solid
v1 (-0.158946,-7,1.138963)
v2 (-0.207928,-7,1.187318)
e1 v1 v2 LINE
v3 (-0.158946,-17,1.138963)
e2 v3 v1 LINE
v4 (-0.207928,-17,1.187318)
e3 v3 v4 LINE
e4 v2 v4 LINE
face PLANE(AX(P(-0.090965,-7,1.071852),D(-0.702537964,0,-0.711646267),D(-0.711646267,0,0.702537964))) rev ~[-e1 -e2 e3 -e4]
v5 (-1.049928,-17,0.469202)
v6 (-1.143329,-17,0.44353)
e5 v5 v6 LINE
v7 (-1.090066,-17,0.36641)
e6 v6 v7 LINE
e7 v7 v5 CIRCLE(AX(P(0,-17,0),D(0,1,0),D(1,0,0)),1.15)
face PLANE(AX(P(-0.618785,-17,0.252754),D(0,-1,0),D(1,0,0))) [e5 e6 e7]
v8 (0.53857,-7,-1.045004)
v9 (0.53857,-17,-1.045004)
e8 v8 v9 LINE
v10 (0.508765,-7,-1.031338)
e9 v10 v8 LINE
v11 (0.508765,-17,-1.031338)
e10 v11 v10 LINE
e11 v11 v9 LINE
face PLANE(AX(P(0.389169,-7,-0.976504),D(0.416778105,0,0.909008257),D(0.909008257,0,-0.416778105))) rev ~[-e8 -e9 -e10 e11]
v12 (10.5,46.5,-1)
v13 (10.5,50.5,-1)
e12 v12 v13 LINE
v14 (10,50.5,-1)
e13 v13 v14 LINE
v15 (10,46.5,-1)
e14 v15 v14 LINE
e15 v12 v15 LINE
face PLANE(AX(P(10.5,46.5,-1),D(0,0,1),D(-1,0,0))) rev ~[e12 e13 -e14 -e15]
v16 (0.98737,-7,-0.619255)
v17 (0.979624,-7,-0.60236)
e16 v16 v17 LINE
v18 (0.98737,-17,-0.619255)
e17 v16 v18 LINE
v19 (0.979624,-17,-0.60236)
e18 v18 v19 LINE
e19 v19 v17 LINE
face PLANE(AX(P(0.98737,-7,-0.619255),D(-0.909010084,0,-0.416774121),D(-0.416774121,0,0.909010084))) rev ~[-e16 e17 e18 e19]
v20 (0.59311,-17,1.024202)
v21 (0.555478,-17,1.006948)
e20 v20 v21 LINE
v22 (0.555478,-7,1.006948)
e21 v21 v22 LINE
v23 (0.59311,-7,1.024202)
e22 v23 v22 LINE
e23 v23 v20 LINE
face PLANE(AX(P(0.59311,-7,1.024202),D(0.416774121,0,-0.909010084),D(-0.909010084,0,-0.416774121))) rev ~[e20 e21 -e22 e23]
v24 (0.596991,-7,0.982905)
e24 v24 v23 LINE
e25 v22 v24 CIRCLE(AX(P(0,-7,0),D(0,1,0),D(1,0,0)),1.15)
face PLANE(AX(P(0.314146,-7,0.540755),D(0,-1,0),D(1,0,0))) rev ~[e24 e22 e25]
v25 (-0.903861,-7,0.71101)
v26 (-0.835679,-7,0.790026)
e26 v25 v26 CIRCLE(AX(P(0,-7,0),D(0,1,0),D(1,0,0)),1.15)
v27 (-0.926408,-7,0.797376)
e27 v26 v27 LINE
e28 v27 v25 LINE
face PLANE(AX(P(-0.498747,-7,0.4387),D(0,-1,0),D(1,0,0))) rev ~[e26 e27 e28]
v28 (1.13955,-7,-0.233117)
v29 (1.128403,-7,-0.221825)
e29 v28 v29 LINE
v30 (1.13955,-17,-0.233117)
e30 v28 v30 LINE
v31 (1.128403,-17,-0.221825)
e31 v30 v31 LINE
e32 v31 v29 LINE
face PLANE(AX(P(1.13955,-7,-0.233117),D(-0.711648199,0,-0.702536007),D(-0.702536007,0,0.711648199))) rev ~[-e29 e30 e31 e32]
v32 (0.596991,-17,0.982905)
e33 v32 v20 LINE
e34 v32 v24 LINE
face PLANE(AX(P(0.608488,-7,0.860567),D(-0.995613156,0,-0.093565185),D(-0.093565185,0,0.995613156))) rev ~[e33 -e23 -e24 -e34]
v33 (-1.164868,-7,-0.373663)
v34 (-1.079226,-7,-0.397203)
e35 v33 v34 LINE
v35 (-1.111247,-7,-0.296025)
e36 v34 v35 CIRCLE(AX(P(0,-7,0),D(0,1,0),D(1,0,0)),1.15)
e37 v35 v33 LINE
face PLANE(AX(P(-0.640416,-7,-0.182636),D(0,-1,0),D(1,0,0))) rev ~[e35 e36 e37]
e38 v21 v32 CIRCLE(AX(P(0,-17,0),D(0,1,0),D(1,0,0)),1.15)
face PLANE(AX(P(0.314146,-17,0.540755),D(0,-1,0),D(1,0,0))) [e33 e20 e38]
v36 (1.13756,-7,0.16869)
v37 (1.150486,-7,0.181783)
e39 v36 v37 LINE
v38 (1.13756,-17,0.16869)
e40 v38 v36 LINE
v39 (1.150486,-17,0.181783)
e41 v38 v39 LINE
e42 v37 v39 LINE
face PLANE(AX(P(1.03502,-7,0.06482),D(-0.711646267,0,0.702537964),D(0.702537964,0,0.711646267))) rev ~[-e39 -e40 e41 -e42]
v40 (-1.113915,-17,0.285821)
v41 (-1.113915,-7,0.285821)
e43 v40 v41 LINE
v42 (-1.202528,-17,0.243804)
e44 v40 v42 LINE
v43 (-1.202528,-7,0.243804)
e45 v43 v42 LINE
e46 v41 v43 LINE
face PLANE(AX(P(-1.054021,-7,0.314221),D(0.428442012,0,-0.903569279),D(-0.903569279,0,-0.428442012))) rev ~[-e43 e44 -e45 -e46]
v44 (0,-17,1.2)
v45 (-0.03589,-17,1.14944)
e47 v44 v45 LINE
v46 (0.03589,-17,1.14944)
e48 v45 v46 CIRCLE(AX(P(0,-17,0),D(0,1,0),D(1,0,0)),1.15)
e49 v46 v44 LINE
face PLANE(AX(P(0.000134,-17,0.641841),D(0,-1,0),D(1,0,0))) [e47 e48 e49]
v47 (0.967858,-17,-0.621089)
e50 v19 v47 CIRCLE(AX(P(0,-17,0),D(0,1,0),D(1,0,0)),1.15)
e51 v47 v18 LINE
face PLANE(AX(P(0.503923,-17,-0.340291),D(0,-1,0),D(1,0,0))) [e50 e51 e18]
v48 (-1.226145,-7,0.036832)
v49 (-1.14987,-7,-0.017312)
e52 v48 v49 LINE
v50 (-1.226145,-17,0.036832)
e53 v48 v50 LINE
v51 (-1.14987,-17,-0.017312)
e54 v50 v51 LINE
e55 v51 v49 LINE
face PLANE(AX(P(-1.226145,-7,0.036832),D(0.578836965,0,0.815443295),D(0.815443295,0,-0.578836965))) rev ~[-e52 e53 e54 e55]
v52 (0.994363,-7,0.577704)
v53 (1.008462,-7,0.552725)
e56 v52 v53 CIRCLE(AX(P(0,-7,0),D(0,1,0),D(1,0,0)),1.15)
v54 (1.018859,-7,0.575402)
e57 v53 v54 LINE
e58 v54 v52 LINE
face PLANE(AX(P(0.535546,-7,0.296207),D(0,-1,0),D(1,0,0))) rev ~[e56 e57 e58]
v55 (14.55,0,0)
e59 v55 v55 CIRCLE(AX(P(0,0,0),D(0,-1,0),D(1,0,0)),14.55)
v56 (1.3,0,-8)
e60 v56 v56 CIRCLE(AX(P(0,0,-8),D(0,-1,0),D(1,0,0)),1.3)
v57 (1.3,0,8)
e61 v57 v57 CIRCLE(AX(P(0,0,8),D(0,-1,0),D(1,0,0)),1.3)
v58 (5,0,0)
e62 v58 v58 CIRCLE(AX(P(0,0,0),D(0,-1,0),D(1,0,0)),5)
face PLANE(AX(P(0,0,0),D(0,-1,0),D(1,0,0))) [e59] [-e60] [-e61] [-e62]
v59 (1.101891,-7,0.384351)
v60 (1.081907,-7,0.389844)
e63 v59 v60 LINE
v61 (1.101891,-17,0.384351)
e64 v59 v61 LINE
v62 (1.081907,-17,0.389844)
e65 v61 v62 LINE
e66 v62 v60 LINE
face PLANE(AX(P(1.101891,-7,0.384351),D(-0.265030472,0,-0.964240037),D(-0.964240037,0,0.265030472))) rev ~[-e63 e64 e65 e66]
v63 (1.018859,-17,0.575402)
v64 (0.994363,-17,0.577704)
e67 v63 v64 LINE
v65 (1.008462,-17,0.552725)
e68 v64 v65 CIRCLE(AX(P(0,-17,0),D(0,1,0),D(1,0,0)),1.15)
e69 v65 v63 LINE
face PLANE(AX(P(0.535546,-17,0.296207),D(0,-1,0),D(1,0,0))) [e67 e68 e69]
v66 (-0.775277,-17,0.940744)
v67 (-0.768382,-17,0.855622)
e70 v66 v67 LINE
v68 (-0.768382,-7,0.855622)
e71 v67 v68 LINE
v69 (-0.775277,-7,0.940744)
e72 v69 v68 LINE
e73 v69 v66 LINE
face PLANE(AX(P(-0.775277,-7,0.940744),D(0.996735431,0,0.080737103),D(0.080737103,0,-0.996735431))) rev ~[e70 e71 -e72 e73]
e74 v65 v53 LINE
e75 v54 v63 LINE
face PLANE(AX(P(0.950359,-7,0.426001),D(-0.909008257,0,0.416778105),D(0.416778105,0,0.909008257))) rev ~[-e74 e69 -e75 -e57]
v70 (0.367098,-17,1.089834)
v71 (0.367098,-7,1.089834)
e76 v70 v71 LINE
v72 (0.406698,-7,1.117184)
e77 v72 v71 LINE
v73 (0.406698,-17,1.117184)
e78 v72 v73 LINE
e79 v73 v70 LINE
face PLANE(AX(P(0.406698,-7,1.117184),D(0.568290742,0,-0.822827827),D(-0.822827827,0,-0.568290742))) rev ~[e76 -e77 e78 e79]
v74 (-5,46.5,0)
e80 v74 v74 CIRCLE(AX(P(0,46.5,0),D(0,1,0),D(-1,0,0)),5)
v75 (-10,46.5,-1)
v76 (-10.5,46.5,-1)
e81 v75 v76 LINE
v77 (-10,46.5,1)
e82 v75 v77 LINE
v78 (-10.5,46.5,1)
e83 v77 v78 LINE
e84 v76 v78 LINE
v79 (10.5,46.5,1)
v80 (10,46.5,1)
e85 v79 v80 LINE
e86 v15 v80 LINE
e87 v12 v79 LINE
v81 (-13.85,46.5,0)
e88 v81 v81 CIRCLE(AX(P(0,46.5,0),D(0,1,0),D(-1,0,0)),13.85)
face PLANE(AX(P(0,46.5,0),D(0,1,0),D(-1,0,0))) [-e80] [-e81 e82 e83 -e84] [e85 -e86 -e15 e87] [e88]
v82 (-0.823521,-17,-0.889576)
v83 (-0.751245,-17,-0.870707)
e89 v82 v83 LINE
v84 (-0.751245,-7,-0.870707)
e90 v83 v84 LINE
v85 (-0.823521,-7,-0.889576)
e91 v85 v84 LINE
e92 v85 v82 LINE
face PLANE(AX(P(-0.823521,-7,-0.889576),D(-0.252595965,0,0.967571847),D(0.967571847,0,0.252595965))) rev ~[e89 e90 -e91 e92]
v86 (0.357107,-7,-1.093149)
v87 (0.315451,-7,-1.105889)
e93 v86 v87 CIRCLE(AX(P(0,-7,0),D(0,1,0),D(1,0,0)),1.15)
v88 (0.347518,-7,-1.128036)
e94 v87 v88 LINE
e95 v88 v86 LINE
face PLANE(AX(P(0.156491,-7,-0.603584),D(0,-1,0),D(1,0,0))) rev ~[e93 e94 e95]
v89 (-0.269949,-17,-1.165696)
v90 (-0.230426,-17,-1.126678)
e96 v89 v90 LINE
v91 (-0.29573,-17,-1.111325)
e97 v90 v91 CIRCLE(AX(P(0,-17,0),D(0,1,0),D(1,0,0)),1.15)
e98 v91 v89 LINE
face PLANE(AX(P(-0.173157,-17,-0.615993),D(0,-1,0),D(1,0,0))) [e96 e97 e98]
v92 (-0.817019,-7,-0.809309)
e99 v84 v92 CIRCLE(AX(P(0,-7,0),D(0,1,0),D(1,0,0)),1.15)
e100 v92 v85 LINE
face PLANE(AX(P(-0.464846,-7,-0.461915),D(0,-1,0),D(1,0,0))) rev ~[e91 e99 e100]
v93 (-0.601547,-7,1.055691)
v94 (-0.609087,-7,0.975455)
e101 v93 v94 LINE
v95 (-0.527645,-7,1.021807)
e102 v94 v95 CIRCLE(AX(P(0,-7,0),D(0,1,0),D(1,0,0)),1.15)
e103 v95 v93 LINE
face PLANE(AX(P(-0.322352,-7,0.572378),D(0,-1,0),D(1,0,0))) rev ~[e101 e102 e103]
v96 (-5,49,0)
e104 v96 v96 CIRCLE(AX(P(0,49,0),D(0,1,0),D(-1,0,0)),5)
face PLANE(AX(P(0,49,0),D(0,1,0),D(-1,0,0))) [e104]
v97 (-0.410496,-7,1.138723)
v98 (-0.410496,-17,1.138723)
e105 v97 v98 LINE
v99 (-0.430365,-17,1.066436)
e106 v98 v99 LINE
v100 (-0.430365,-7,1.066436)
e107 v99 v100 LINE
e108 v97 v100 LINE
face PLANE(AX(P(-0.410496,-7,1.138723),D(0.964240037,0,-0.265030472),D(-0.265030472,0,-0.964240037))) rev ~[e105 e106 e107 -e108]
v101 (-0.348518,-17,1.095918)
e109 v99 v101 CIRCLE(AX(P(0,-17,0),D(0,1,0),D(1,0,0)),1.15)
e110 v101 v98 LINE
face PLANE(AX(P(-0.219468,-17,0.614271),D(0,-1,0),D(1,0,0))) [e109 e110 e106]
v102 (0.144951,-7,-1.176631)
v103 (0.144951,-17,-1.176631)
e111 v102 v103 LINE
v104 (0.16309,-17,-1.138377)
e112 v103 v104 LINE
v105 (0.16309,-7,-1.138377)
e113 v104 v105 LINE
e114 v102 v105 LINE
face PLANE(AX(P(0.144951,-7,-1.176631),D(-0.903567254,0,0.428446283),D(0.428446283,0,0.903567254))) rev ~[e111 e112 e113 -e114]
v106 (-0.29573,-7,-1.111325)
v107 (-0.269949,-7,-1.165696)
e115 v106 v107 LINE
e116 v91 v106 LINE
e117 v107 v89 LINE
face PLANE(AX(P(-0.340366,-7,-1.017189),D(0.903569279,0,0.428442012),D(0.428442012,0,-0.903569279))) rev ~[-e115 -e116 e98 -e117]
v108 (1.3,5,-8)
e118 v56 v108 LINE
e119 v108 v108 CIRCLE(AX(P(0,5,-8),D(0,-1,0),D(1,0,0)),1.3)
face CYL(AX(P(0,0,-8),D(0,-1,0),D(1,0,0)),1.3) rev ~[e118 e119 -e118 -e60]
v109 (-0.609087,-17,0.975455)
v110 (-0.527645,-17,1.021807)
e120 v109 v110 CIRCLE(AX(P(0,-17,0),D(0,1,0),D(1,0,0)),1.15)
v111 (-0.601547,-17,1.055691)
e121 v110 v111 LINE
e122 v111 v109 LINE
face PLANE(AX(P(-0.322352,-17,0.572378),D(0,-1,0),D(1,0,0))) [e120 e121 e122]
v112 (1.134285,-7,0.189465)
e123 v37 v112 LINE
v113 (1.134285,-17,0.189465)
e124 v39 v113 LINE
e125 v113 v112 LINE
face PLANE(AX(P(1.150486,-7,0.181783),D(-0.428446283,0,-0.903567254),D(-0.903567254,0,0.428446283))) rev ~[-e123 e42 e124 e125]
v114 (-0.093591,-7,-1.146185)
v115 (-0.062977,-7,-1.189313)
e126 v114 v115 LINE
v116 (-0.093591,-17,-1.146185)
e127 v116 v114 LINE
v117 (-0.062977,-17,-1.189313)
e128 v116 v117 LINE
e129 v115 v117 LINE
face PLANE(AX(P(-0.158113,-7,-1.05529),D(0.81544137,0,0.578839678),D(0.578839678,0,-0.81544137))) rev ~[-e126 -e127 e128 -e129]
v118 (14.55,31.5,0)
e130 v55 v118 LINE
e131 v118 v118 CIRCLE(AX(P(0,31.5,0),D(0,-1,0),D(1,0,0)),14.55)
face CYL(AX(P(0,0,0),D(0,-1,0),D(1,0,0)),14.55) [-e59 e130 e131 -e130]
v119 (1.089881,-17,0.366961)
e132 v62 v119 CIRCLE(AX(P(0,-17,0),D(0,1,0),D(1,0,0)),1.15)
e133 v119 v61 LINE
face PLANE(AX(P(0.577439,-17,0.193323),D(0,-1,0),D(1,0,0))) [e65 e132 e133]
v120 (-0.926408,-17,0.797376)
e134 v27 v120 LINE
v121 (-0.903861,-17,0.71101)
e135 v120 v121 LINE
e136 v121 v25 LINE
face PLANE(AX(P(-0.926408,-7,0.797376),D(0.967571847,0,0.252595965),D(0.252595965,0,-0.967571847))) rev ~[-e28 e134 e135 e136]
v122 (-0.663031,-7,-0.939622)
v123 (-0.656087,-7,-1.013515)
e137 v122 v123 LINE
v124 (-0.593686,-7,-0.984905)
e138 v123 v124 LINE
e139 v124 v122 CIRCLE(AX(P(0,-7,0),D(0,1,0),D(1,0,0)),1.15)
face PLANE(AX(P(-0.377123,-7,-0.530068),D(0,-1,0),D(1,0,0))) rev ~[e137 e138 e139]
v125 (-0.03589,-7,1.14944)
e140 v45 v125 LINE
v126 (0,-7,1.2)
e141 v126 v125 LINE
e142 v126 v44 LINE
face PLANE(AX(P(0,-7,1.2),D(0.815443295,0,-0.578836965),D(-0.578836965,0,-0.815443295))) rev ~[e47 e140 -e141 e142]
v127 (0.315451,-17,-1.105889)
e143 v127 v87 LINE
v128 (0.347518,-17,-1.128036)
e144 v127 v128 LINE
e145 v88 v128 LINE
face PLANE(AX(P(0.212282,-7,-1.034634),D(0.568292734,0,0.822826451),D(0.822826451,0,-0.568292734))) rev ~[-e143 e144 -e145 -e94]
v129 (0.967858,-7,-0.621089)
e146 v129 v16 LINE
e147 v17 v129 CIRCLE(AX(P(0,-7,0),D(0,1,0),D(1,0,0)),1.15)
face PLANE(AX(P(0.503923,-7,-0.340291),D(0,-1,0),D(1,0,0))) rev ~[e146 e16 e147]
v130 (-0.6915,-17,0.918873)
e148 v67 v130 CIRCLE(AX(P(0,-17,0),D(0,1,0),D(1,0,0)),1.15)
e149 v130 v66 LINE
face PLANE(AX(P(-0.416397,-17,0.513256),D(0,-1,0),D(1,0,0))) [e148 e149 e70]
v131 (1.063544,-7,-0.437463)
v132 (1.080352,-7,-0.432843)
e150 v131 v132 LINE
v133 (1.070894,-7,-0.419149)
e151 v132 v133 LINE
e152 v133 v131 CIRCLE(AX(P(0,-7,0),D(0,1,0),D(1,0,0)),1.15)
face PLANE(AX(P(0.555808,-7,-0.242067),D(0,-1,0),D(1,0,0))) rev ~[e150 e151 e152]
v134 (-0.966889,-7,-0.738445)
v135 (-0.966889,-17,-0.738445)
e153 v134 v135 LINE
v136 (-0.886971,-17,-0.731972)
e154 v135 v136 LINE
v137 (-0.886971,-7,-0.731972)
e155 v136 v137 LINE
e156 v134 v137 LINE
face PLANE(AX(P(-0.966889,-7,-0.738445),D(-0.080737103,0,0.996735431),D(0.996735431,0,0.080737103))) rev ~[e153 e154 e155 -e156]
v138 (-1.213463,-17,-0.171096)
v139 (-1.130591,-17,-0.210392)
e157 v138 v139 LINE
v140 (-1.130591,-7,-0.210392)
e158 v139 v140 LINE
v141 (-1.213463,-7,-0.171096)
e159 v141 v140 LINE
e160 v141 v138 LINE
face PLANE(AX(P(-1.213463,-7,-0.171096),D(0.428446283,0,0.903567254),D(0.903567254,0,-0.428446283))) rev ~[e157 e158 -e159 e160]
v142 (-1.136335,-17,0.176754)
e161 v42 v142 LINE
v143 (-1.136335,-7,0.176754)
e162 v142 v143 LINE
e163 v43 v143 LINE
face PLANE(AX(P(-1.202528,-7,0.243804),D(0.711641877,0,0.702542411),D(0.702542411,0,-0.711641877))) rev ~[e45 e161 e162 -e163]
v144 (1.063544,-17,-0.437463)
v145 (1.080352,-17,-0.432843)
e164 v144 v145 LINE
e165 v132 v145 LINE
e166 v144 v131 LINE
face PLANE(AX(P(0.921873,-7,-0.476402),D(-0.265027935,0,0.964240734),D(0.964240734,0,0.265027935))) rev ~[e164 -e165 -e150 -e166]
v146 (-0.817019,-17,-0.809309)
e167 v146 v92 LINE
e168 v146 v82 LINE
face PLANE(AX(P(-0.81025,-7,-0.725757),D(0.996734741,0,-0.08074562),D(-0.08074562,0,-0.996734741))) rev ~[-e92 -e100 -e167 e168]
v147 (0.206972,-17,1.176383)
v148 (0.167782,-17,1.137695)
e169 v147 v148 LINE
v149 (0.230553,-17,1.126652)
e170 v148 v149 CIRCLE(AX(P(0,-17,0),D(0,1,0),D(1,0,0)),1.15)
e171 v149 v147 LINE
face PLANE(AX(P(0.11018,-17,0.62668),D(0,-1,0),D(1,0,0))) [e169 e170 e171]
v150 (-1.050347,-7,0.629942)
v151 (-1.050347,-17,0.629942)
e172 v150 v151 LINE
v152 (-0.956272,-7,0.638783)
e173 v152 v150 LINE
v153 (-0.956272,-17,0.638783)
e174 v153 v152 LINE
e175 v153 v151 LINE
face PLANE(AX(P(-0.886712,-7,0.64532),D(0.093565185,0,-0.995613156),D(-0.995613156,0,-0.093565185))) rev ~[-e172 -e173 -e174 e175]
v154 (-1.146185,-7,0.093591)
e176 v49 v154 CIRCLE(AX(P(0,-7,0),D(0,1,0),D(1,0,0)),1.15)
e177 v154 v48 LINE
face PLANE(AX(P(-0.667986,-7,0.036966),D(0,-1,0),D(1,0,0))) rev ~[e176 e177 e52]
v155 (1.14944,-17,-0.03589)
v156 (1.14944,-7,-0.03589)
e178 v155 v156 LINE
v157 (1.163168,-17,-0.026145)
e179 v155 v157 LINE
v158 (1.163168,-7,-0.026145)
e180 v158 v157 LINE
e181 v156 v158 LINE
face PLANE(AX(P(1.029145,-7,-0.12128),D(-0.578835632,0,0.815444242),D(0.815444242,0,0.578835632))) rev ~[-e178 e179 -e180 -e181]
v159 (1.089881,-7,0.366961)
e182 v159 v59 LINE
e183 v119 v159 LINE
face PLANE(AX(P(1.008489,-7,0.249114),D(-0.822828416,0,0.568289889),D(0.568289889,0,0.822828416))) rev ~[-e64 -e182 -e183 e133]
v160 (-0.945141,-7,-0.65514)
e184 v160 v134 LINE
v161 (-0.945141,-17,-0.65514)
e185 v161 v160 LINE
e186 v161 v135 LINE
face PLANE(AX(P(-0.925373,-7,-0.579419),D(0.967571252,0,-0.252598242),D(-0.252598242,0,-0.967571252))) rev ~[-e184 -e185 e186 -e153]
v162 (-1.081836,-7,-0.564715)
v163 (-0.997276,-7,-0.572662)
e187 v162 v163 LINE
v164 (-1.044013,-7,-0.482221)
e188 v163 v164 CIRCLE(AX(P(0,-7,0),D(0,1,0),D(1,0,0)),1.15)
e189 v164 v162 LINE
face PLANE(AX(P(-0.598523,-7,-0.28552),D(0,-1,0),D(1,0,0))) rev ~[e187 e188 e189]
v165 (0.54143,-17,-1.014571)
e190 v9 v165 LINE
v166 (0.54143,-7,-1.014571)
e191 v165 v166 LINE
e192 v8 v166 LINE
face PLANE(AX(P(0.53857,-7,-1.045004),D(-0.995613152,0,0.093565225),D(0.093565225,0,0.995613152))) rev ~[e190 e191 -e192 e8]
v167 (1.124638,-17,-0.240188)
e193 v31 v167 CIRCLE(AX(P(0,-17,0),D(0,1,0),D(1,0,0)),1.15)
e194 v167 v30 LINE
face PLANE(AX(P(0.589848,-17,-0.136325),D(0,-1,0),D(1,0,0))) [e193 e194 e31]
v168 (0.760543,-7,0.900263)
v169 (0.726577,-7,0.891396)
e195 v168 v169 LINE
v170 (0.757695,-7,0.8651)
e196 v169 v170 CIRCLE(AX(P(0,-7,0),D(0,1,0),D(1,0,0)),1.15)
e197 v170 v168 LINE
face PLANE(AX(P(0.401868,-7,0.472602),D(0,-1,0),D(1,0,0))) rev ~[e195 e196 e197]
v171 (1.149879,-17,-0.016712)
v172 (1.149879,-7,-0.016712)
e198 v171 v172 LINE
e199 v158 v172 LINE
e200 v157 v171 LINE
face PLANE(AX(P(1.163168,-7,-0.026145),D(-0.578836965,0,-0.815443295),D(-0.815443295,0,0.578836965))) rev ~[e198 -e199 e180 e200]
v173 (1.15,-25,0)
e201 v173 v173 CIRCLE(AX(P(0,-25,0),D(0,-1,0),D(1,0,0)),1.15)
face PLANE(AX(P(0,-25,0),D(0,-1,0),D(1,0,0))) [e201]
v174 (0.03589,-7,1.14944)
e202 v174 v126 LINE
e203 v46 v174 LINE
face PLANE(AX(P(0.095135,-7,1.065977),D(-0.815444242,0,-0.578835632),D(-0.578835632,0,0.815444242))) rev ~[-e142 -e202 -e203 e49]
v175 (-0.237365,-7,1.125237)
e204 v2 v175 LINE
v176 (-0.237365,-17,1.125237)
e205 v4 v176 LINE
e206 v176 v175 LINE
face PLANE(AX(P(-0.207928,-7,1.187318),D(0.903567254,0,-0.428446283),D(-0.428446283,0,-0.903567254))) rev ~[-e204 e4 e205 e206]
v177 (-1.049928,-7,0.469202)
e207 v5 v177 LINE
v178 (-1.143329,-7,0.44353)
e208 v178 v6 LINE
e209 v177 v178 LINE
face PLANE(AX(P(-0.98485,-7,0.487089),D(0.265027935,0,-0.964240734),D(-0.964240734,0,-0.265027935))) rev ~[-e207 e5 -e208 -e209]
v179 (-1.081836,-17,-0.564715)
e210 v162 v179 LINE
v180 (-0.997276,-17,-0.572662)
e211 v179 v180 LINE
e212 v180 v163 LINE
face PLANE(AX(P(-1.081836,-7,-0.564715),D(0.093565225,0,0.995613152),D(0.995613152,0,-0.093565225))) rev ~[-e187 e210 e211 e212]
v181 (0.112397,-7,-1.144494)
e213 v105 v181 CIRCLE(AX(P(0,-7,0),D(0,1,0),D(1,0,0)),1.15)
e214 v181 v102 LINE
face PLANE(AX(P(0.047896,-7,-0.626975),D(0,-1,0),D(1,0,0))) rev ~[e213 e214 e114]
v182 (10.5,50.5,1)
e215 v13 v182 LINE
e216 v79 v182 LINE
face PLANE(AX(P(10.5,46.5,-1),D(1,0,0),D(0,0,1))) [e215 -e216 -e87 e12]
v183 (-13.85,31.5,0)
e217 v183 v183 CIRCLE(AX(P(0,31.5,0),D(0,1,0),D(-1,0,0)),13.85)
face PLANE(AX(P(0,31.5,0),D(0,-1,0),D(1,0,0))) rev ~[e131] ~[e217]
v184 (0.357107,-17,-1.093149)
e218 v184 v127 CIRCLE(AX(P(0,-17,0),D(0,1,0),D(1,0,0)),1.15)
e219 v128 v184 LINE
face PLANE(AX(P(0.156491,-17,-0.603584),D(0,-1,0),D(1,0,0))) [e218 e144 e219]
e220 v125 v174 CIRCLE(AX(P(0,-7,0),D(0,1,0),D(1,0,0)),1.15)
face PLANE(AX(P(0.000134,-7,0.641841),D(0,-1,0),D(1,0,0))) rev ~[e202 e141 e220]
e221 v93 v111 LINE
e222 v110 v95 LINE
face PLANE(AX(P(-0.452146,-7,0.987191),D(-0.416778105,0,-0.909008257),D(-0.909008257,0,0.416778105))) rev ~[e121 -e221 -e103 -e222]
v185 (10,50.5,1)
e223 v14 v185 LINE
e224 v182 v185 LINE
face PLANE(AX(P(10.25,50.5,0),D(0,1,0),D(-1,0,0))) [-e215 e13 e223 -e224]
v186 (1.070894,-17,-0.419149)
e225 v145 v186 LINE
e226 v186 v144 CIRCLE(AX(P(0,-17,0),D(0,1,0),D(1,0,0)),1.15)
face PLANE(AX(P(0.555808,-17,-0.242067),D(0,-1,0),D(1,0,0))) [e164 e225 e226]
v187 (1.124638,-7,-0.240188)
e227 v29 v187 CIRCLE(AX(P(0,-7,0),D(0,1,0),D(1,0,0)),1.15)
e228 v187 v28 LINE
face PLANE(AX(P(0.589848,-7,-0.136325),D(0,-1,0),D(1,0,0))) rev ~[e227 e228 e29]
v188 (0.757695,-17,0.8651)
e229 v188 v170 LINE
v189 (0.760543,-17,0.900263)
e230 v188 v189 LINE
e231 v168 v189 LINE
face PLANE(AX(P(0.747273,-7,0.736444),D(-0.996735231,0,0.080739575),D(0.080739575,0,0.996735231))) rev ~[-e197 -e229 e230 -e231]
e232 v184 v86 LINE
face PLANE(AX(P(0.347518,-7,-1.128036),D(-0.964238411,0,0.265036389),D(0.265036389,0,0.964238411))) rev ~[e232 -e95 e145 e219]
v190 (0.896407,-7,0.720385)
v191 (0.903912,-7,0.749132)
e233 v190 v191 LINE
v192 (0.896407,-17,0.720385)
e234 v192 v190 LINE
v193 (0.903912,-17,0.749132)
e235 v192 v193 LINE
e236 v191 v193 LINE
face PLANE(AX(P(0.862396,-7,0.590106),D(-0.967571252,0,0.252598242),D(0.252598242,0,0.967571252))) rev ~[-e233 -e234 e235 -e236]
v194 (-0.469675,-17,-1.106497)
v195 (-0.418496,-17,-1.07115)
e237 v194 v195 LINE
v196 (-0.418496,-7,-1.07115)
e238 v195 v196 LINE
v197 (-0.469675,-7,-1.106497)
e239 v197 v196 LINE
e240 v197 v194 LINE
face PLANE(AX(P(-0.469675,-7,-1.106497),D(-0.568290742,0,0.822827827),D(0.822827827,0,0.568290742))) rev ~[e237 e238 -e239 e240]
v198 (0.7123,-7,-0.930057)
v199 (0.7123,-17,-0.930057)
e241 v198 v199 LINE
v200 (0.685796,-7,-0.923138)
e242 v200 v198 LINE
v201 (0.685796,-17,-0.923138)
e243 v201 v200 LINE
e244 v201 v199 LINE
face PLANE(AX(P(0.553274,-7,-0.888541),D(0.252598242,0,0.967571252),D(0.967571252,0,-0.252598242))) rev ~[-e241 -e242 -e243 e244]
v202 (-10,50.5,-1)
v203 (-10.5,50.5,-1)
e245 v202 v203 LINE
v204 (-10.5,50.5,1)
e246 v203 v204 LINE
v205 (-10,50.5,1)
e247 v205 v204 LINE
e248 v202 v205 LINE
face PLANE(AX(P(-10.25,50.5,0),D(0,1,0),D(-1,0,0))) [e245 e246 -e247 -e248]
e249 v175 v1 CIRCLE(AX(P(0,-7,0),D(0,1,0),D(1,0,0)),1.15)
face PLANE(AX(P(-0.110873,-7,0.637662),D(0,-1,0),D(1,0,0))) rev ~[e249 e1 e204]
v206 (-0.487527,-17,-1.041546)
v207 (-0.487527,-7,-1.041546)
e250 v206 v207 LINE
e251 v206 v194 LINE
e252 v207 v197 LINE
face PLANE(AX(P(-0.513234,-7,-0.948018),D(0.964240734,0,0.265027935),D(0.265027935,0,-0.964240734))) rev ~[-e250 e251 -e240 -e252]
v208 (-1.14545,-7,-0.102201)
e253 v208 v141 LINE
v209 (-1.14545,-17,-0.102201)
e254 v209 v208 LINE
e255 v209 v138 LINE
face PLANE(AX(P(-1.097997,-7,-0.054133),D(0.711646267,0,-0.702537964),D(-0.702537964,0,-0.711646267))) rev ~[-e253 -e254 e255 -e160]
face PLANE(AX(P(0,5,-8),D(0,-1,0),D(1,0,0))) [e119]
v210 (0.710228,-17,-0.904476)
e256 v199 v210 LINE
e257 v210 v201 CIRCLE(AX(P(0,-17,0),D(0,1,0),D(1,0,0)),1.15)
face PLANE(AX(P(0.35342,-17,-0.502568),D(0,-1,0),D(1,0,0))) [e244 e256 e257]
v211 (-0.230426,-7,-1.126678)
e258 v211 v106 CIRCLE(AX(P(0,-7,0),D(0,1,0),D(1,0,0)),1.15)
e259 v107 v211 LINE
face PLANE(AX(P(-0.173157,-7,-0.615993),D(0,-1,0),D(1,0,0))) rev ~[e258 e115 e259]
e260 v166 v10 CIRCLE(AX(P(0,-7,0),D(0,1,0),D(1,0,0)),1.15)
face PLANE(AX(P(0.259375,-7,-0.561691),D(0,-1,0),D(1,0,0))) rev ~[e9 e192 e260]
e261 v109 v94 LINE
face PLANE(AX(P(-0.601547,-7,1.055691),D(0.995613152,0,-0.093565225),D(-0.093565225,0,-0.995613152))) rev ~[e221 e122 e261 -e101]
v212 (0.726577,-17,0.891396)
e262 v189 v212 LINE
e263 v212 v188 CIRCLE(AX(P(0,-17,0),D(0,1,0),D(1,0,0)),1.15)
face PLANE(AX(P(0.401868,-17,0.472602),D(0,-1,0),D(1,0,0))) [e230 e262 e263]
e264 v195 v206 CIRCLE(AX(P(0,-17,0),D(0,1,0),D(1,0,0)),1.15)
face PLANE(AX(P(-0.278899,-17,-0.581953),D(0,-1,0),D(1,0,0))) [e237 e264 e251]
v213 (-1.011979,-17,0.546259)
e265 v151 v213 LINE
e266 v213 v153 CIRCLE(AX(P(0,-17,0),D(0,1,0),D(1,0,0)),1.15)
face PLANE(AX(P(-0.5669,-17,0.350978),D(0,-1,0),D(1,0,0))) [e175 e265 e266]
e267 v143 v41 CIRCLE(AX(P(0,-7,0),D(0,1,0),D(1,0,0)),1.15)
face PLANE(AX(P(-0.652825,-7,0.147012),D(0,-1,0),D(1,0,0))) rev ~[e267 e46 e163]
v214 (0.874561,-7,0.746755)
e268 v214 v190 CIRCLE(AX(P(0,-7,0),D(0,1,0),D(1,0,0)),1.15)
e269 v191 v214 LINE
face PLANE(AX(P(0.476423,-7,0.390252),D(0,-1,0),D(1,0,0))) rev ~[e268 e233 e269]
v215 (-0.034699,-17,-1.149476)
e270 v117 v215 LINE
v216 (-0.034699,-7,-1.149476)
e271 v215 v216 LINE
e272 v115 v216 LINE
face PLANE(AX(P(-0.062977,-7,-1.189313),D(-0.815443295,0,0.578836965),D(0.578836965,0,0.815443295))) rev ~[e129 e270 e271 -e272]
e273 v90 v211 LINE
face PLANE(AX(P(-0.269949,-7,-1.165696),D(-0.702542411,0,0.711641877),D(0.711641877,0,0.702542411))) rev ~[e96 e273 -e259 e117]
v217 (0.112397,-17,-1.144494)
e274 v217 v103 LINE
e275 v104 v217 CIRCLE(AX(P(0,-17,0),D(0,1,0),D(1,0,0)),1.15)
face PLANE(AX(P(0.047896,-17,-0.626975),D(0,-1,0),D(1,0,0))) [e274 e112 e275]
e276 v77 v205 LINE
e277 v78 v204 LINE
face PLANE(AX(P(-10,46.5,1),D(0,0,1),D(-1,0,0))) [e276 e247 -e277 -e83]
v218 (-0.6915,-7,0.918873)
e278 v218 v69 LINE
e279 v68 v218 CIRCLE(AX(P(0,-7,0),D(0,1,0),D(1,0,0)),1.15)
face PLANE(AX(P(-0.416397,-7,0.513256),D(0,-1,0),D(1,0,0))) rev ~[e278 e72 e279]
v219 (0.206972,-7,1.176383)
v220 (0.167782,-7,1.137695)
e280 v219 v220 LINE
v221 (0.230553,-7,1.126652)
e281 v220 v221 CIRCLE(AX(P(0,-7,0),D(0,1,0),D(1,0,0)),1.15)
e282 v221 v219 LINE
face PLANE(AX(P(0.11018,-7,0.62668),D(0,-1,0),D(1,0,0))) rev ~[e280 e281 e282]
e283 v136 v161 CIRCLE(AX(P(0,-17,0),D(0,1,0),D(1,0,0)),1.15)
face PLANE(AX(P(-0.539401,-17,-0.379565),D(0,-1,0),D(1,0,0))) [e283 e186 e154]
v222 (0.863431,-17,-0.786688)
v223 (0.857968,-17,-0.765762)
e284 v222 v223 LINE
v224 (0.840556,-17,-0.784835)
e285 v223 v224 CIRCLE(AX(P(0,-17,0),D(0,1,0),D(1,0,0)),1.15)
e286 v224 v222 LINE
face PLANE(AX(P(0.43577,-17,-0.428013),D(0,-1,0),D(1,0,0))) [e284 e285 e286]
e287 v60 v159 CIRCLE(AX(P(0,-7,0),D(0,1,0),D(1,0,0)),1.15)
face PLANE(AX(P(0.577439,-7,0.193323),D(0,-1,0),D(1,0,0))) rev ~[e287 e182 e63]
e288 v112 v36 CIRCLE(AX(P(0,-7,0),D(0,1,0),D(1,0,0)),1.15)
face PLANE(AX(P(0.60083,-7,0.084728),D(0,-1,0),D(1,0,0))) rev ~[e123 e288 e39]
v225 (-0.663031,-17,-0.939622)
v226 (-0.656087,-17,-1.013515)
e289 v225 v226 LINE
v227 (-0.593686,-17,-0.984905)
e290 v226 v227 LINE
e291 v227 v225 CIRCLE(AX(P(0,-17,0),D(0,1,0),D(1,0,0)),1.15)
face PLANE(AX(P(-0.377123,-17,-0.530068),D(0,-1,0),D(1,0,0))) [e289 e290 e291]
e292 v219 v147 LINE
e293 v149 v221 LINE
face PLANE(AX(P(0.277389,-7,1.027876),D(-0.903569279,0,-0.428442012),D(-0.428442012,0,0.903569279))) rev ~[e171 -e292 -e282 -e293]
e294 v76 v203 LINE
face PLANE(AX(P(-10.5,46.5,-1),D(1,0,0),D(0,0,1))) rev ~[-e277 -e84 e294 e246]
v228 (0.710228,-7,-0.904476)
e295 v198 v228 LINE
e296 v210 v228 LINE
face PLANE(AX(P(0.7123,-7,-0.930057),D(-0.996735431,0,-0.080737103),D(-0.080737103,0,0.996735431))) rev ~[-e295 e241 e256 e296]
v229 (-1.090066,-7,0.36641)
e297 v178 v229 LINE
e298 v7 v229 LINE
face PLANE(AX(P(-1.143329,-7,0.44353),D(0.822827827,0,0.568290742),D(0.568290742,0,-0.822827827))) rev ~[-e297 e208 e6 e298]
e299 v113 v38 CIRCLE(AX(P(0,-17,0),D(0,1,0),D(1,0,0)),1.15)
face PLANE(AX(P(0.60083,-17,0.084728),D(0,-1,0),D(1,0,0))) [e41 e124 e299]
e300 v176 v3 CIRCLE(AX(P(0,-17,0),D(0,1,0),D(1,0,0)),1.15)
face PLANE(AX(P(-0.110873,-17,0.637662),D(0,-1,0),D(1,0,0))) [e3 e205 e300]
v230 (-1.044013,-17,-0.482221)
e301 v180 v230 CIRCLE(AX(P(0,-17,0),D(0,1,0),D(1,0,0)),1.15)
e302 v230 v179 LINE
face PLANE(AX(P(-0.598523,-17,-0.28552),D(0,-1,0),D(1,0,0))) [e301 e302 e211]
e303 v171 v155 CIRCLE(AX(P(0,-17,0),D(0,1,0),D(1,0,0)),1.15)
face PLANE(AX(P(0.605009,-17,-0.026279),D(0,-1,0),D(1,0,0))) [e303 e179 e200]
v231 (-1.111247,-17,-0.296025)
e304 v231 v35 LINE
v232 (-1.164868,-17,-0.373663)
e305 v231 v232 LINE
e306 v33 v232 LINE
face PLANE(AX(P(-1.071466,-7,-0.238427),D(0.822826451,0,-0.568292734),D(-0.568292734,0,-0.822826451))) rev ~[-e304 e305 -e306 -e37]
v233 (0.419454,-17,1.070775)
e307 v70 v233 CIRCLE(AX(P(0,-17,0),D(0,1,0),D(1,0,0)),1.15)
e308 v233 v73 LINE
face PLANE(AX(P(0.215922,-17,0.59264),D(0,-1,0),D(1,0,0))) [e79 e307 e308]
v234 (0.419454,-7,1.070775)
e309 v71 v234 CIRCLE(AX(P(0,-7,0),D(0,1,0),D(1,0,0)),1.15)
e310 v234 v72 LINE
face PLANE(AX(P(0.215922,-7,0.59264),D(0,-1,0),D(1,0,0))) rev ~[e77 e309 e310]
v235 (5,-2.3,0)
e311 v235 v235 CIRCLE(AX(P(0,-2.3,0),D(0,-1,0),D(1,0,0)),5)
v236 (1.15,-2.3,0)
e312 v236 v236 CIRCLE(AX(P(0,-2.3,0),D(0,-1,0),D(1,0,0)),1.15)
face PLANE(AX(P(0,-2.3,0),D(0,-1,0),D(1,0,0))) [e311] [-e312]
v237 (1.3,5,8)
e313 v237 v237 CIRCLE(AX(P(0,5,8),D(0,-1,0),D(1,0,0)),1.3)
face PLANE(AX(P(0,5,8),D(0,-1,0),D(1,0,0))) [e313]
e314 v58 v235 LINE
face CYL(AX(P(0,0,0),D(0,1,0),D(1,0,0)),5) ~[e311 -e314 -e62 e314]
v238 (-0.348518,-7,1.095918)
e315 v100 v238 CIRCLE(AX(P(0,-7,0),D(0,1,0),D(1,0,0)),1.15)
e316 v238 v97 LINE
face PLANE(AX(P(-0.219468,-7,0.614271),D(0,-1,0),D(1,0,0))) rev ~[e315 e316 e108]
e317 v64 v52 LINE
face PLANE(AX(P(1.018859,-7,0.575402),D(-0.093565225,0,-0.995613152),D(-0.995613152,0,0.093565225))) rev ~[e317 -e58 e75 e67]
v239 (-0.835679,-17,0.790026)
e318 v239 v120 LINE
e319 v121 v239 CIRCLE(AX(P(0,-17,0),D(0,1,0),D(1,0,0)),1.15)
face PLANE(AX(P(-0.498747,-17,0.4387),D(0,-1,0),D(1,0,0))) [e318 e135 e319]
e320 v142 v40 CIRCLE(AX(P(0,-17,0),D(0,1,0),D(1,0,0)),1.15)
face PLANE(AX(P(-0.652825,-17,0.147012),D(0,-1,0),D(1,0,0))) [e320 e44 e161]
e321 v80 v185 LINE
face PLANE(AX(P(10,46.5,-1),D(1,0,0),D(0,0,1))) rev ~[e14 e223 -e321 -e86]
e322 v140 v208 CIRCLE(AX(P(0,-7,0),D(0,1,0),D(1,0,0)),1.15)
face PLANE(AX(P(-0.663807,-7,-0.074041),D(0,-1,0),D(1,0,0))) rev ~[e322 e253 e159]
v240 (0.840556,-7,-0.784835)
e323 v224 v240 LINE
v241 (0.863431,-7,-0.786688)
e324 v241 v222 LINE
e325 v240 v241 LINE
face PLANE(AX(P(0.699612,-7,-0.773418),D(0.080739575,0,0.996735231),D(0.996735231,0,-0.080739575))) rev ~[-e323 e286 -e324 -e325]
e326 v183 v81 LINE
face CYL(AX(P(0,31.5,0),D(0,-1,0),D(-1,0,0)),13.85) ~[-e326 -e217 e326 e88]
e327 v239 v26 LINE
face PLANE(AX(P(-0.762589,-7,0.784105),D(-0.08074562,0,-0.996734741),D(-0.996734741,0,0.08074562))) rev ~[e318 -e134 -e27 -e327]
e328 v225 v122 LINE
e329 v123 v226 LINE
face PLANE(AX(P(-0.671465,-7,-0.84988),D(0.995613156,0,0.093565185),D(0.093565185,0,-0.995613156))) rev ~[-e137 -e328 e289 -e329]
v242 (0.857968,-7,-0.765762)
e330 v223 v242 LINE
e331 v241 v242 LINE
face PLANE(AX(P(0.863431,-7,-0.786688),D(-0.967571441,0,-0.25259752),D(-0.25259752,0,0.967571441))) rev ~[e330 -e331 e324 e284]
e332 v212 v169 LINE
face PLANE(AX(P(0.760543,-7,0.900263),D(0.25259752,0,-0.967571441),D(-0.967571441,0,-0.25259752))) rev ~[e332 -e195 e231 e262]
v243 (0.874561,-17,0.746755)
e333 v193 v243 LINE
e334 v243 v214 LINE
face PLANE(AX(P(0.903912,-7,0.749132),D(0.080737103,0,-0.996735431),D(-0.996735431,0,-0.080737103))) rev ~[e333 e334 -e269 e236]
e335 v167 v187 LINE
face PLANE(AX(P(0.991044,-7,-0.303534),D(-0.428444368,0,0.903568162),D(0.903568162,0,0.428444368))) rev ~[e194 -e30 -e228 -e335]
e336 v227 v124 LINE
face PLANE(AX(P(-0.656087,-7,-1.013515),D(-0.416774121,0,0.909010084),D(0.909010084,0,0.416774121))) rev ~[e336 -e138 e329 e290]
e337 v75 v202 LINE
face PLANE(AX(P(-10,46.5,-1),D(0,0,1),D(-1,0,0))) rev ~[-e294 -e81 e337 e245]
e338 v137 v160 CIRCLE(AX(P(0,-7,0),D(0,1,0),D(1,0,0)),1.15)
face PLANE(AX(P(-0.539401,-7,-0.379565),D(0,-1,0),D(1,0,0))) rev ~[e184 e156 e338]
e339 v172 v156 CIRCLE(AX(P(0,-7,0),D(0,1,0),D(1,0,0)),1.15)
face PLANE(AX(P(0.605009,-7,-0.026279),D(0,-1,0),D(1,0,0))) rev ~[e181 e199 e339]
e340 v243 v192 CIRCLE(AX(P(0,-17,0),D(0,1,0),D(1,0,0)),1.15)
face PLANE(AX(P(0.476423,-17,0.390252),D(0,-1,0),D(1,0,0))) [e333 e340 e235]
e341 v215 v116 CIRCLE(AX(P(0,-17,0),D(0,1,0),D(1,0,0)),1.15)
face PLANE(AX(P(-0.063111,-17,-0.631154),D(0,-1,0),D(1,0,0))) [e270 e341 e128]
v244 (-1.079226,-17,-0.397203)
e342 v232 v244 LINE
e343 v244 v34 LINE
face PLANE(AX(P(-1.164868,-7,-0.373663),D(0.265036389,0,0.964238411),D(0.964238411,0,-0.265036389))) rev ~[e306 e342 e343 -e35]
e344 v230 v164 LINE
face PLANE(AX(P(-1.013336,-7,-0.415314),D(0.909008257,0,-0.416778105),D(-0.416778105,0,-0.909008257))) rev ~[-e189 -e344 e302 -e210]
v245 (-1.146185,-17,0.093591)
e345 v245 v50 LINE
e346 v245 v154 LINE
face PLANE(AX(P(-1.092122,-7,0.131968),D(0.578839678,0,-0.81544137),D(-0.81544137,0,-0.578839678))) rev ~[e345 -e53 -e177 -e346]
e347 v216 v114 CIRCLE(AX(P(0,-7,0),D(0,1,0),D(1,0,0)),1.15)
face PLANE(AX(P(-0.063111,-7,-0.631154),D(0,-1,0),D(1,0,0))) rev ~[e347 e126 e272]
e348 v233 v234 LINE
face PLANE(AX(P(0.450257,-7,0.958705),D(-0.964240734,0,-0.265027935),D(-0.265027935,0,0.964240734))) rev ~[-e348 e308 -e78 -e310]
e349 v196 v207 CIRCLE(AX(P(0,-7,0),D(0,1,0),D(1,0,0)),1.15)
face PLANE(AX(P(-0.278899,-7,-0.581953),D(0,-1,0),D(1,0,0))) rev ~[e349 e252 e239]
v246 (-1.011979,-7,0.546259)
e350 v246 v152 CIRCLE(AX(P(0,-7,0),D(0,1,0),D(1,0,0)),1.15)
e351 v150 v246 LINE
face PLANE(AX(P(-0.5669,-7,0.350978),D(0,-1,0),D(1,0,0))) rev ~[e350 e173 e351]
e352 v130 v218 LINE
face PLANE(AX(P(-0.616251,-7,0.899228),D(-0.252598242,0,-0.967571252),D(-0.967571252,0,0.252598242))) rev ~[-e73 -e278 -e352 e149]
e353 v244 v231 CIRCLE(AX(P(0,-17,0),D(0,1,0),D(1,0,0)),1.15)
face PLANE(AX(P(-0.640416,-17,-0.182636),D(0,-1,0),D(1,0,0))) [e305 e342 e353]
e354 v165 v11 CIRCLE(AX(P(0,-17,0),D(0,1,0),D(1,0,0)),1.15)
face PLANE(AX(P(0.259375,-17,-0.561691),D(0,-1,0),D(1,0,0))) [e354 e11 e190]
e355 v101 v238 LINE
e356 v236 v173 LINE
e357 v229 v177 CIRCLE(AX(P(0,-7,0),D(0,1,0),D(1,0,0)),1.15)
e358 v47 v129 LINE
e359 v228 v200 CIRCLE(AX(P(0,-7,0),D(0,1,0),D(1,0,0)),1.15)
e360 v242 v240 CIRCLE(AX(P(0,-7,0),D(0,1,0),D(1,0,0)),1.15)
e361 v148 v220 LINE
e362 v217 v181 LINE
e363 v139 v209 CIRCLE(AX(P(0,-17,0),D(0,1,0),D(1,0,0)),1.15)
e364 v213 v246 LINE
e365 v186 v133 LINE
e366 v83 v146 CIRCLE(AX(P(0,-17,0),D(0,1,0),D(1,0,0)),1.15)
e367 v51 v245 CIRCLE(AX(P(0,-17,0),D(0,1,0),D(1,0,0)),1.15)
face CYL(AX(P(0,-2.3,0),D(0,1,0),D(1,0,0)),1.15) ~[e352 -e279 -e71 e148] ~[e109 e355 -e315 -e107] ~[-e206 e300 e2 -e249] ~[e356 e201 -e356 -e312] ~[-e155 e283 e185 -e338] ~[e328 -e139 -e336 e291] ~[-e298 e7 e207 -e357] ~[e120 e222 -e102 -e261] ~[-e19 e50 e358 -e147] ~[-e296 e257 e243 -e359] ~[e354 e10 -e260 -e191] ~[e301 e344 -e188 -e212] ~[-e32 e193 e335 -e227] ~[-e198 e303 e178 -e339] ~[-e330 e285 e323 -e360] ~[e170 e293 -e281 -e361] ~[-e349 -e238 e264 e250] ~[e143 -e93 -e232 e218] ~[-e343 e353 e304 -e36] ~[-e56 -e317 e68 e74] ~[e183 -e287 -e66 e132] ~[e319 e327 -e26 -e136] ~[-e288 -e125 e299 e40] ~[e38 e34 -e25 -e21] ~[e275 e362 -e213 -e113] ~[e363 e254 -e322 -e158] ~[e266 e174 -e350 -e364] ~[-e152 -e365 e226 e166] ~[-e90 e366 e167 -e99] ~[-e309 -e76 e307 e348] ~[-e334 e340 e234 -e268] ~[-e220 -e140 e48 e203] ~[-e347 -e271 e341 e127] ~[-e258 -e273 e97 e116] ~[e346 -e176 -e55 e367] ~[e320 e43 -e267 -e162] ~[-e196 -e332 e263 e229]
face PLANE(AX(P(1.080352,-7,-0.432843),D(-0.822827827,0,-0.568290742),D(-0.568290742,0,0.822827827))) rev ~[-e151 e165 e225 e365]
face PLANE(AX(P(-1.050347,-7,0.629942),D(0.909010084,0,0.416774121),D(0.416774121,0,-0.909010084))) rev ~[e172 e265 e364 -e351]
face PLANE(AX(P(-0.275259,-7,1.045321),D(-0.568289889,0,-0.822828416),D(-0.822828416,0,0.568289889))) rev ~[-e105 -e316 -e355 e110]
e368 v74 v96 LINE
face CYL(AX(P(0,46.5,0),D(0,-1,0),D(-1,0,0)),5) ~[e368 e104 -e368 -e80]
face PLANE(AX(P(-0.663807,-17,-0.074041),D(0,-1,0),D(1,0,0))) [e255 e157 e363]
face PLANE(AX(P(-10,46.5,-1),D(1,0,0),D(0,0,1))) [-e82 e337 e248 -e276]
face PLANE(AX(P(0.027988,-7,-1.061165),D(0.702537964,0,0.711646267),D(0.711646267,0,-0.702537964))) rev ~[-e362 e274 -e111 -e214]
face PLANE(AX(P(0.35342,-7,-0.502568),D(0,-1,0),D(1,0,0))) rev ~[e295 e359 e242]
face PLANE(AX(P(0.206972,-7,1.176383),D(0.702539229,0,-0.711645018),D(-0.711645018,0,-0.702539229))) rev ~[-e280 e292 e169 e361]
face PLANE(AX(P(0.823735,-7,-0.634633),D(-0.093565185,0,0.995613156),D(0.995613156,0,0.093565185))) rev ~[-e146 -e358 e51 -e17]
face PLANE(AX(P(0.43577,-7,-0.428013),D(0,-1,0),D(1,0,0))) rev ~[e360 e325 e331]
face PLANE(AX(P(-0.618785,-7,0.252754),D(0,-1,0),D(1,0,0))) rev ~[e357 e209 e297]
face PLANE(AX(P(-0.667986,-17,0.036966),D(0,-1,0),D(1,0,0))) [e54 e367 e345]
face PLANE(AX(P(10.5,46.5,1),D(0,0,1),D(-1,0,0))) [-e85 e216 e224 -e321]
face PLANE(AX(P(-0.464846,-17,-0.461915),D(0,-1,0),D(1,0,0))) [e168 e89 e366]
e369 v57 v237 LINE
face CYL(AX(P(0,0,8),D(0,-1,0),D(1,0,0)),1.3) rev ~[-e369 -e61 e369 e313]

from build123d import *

# Parameters (mm, degrees)
F0_R      = 14.55
F1_DEPTH  = 31.5
F2_R      = 13.85
F3_DEPTH  = 15
F4_R      = 5
F5_DEPTH  = 2.3
F6_R      = 1.15
F7_DEPTH  = 22.7
F8_R      = 1.3
F9_DEPTH  = 5
F10_R     = 5
F11_DEPTH = 2.5
F12_W     = 0.5
F12_H     = 2
F13_DEPTH = 4
F16_DEPTH = 10


with BuildPart() as f1:
    # F0 (on Front) → F1 (new body)
    with BuildSketch(Plane.XZ):
        Circle(F0_R)
    extrude(amount=-F1_DEPTH)

    # F2 (on face) → F3 (join)
    with BuildSketch(Plane(origin=(0, 31.5, 0), x_dir=(-1, 0, 0), z_dir=(0, 1, 0))):
        Circle(F2_R)
    extrude(amount=F3_DEPTH)

    # F4 (on face) → F5 (join)
    with BuildSketch(Plane.XZ):
        Circle(F4_R)
    extrude(amount=F5_DEPTH)

    # F6 (on face) → F7 (join)
    with BuildSketch(Plane.XZ.offset(2.3)):
        Circle(F6_R)
    extrude(amount=F7_DEPTH)

    # F8 (on face) → F9 (cut)
    with BuildSketch(Plane.XZ):
        with Locations((0, 8)):
            Circle(F8_R)
        with Locations((0, -8)):
            Circle(F8_R)
    extrude(amount=-F9_DEPTH, mode=Mode.SUBTRACT)

    # F10 (on face) → F11 (join)
    with BuildSketch(Plane(origin=(0, 46.5, 0), x_dir=(-1, 0, 0), z_dir=(0, 1, 0))):
        Circle(F10_R)
    extrude(amount=F11_DEPTH)

    # F12 (on face) → F13 (join)
    with BuildSketch(Plane(origin=(0, 46.5, 0), x_dir=(-1, 0, 0), z_dir=(0, 1, 0))):
        with Locations((-10.25, 0)):
            Rectangle(F12_W, F12_H)
        with Locations((10.25, 0)):
            Rectangle(F12_W, F12_H)
    extrude(amount=F13_DEPTH)

    # F15 (on offset) → F16 (join)
    with BuildSketch(Plane.XZ.offset(7)):
        Polygon((0.15, 0.988686), (0.004988, 0.032877), (0.19347, 0.969916), (0.277389, 1.027876), (0.206972, 1.176383), (0.095135, 1.065977), align=None)
        Polygon((0.317998, 0.942232), (0.009215, 0.026125), (0.357549, 0.916199), (0.450257, 0.958705), (0.406698, 1.117184), (0.277389, 1.027876), align=None)
        Polygon((0.022556, 0.994326), (0.095135, 1.065977), (0, 1.2), (-0.090965, 1.071852), (-0.023513, 1.005262), (-0.000347, 0.038793), align=None)
        Polygon((0.59311, 1.024202), (0.450257, 0.958705), (0.475378, 0.86731), (0.012205, 0.018741), (0.509807, 0.834805), (0.608488, 0.860567), align=None)
        Polygon((-0.15, 0.988686), (-0.090965, 1.071852), (-0.207928, 1.187318), (-0.275259, 1.045321), (-0.197268, 0.991456), (-0.006629, 0.043692), align=None)
        Polygon((0.760543, 0.900263), (0.608488, 0.860567), (0.617356, 0.766199), (0.013868, 0.01095), (0.645618, 0.728209), (0.747273, 0.736444), align=None)
        Polygon((-0.318955, 0.953168), (-0.275259, 1.045321), (-0.410496, 1.138723), (-0.452146, 0.987191), (-0.365986, 0.947687), (-0.013666, 0.047427), align=None)
        Polygon((0.903912, 0.749132), (0.747273, 0.736444), (0.73962, 0.641969), (0.014152, 0.002989), (0.760855, 0.599649), (0.862396, 0.590106), align=None)
        Polygon((-0.524541, 0.875286), (-0.021244, 0.049882), (-0.479176, 0.88885), (-0.452146, 0.987191), (-0.601547, 1.055691), (-0.616251, 0.899228), align=None)
        Polygon((0.838454, 0.498396), (0.01305, -0.004901), (0.852018, 0.453031), (0.950359, 0.426001), (1.018859, 0.575402), (0.862396, 0.590106), align=None)
        Polygon((-0.668114, 0.776452), (-0.029134, 0.050985), (-0.625794, 0.797687), (-0.616251, 0.899228), (-0.775277, 0.940744), (-0.762589, 0.784105), align=None)
        Polygon((0.910855, 0.339841), (0.010595, -0.012479), (0.916335, 0.29281), (1.008489, 0.249114), (1.101891, 0.384351), (0.950359, 0.426001), align=None)
        Polygon((-0.792344, 0.654188), (-0.037095, 0.0507), (-0.754354, 0.68245), (-0.762589, 0.784105), (-0.926408, 0.797376), (-0.886712, 0.64532), align=None)
        Polygon((0.954624, 0.171123), (0.00686, -0.019516), (0.951854, 0.123855), (1.03502, 0.06482), (1.150486, 0.181783), (1.008489, 0.249114), align=None)
        Polygon((-0.893455, 0.51221), (-0.044886, 0.049037), (-0.86095, 0.546639), (-0.886712, 0.64532), (-1.050347, 0.629942), (-0.98485, 0.487089), align=None)
        Polygon((0.96843, -0.002632), (0.001961, -0.025798), (0.957494, -0.048701), (1.029145, -0.12128), (1.163168, -0.026145), (1.03502, 0.06482), align=None)
        Polygon((-0.968377, 0.35483), (-0.05227, 0.046047), (-0.942344, 0.394381), (-0.98485, 0.487089), (-1.143329, 0.44353), (-1.054021, 0.314221), align=None)
        Polygon((0.951854, -0.176145), (-0.003955, -0.031133), (0.933084, -0.219615), (0.991044, -0.303534), (1.13955, -0.233117), (1.029145, -0.12128), align=None)
        Polygon((-1.014831, 0.186832), (-0.059022, 0.04182), (-0.996062, 0.230302), (-1.054021, 0.314221), (-1.202528, 0.243804), (-1.092122, 0.131968), align=None)
        Polygon((0.9054, -0.344143), (-0.010707, -0.03536), (0.879367, -0.383694), (0.921873, -0.476402), (1.080352, -0.432843), (0.991044, -0.303534), align=None)
        Polygon((-1.031407, 0.013319), (-0.064938, 0.036485), (-1.020471, 0.059388), (-1.092122, 0.131968), (-1.226145, 0.036832), (-1.097997, -0.054133), align=None)
        Polygon((0.830478, -0.501523), (-0.018091, -0.03835), (0.797973, -0.535952), (0.823735, -0.634633), (0.98737, -0.619255), (0.921873, -0.476402), align=None)
        Polygon((-1.017601, -0.160436), (-0.069837, 0.030203), (-1.014831, -0.113168), (-1.097997, -0.054133), (-1.213463, -0.171096), (-1.071466, -0.238427), align=None)
        Polygon((0.729367, -0.643501), (-0.025882, -0.040013), (0.691377, -0.671763), (0.699612, -0.773418), (0.863431, -0.786688), (0.823735, -0.634633), align=None)
        Polygon((-0.973832, -0.329154), (-0.073572, 0.023166), (-0.979313, -0.282123), (-1.071466, -0.238427), (-1.164868, -0.373663), (-1.013336, -0.415314), align=None)
        Polygon((0.605137, -0.765765), (-0.033843, -0.040297), (0.562817, -0.787), (0.553274, -0.888541), (0.7123, -0.930057), (0.699612, -0.773418), align=None)
        Polygon((-0.901431, -0.487709), (-0.076027, 0.015588), (-0.914995, -0.442344), (-1.013336, -0.415314), (-1.081836, -0.564715), (-0.925373, -0.579419), align=None)
        Polygon((0.461563, -0.864599), (-0.041733, -0.039195), (0.416199, -0.878163), (0.389169, -0.976504), (0.53857, -1.045004), (0.553274, -0.888541), align=None)
        Polygon((-0.802597, -0.631282), (-0.07713, 0.007698), (-0.823832, -0.588962), (-0.925373, -0.579419), (-0.966889, -0.738445), (-0.81025, -0.725757), align=None)
        Polygon((0.303009, -0.937), (-0.049311, -0.03674), (0.255978, -0.94248), (0.212282, -1.034634), (0.347518, -1.128036), (0.389169, -0.976504), align=None)
        Polygon((-0.680334, -0.755512), (-0.076845, -0.000263), (-0.708595, -0.717522), (-0.81025, -0.725757), (-0.823521, -0.889576), (-0.671465, -0.84988), align=None)
        Polygon((0.134291, -0.980769), (-0.056348, -0.033005), (0.087023, -0.977999), (0.027988, -1.061165), (0.144951, -1.176631), (0.212282, -1.034634), align=None)
        Polygon((-0.538355, -0.856623), (-0.075182, -0.008054), (-0.572784, -0.824118), (-0.671465, -0.84988), (-0.656087, -1.013515), (-0.513234, -0.948018), align=None)
        Polygon((-0.039464, -0.994575), (-0.06263, -0.028106), (-0.085533, -0.983639), (-0.158113, -1.05529), (-0.062977, -1.189313), (0.027988, -1.061165), align=None)
        Polygon((-0.380976, -0.931545), (-0.072192, -0.015438), (-0.420526, -0.905512), (-0.513234, -0.948018), (-0.469675, -1.106497), (-0.340366, -1.017189), align=None)
        Polygon((-0.212977, -0.977999), (-0.067965, -0.02219), (-0.256447, -0.959229), (-0.340366, -1.017189), (-0.269949, -1.165696), (-0.158113, -1.05529), align=None)
    extrude(amount=F16_DEPTH)


solid = f1.part
